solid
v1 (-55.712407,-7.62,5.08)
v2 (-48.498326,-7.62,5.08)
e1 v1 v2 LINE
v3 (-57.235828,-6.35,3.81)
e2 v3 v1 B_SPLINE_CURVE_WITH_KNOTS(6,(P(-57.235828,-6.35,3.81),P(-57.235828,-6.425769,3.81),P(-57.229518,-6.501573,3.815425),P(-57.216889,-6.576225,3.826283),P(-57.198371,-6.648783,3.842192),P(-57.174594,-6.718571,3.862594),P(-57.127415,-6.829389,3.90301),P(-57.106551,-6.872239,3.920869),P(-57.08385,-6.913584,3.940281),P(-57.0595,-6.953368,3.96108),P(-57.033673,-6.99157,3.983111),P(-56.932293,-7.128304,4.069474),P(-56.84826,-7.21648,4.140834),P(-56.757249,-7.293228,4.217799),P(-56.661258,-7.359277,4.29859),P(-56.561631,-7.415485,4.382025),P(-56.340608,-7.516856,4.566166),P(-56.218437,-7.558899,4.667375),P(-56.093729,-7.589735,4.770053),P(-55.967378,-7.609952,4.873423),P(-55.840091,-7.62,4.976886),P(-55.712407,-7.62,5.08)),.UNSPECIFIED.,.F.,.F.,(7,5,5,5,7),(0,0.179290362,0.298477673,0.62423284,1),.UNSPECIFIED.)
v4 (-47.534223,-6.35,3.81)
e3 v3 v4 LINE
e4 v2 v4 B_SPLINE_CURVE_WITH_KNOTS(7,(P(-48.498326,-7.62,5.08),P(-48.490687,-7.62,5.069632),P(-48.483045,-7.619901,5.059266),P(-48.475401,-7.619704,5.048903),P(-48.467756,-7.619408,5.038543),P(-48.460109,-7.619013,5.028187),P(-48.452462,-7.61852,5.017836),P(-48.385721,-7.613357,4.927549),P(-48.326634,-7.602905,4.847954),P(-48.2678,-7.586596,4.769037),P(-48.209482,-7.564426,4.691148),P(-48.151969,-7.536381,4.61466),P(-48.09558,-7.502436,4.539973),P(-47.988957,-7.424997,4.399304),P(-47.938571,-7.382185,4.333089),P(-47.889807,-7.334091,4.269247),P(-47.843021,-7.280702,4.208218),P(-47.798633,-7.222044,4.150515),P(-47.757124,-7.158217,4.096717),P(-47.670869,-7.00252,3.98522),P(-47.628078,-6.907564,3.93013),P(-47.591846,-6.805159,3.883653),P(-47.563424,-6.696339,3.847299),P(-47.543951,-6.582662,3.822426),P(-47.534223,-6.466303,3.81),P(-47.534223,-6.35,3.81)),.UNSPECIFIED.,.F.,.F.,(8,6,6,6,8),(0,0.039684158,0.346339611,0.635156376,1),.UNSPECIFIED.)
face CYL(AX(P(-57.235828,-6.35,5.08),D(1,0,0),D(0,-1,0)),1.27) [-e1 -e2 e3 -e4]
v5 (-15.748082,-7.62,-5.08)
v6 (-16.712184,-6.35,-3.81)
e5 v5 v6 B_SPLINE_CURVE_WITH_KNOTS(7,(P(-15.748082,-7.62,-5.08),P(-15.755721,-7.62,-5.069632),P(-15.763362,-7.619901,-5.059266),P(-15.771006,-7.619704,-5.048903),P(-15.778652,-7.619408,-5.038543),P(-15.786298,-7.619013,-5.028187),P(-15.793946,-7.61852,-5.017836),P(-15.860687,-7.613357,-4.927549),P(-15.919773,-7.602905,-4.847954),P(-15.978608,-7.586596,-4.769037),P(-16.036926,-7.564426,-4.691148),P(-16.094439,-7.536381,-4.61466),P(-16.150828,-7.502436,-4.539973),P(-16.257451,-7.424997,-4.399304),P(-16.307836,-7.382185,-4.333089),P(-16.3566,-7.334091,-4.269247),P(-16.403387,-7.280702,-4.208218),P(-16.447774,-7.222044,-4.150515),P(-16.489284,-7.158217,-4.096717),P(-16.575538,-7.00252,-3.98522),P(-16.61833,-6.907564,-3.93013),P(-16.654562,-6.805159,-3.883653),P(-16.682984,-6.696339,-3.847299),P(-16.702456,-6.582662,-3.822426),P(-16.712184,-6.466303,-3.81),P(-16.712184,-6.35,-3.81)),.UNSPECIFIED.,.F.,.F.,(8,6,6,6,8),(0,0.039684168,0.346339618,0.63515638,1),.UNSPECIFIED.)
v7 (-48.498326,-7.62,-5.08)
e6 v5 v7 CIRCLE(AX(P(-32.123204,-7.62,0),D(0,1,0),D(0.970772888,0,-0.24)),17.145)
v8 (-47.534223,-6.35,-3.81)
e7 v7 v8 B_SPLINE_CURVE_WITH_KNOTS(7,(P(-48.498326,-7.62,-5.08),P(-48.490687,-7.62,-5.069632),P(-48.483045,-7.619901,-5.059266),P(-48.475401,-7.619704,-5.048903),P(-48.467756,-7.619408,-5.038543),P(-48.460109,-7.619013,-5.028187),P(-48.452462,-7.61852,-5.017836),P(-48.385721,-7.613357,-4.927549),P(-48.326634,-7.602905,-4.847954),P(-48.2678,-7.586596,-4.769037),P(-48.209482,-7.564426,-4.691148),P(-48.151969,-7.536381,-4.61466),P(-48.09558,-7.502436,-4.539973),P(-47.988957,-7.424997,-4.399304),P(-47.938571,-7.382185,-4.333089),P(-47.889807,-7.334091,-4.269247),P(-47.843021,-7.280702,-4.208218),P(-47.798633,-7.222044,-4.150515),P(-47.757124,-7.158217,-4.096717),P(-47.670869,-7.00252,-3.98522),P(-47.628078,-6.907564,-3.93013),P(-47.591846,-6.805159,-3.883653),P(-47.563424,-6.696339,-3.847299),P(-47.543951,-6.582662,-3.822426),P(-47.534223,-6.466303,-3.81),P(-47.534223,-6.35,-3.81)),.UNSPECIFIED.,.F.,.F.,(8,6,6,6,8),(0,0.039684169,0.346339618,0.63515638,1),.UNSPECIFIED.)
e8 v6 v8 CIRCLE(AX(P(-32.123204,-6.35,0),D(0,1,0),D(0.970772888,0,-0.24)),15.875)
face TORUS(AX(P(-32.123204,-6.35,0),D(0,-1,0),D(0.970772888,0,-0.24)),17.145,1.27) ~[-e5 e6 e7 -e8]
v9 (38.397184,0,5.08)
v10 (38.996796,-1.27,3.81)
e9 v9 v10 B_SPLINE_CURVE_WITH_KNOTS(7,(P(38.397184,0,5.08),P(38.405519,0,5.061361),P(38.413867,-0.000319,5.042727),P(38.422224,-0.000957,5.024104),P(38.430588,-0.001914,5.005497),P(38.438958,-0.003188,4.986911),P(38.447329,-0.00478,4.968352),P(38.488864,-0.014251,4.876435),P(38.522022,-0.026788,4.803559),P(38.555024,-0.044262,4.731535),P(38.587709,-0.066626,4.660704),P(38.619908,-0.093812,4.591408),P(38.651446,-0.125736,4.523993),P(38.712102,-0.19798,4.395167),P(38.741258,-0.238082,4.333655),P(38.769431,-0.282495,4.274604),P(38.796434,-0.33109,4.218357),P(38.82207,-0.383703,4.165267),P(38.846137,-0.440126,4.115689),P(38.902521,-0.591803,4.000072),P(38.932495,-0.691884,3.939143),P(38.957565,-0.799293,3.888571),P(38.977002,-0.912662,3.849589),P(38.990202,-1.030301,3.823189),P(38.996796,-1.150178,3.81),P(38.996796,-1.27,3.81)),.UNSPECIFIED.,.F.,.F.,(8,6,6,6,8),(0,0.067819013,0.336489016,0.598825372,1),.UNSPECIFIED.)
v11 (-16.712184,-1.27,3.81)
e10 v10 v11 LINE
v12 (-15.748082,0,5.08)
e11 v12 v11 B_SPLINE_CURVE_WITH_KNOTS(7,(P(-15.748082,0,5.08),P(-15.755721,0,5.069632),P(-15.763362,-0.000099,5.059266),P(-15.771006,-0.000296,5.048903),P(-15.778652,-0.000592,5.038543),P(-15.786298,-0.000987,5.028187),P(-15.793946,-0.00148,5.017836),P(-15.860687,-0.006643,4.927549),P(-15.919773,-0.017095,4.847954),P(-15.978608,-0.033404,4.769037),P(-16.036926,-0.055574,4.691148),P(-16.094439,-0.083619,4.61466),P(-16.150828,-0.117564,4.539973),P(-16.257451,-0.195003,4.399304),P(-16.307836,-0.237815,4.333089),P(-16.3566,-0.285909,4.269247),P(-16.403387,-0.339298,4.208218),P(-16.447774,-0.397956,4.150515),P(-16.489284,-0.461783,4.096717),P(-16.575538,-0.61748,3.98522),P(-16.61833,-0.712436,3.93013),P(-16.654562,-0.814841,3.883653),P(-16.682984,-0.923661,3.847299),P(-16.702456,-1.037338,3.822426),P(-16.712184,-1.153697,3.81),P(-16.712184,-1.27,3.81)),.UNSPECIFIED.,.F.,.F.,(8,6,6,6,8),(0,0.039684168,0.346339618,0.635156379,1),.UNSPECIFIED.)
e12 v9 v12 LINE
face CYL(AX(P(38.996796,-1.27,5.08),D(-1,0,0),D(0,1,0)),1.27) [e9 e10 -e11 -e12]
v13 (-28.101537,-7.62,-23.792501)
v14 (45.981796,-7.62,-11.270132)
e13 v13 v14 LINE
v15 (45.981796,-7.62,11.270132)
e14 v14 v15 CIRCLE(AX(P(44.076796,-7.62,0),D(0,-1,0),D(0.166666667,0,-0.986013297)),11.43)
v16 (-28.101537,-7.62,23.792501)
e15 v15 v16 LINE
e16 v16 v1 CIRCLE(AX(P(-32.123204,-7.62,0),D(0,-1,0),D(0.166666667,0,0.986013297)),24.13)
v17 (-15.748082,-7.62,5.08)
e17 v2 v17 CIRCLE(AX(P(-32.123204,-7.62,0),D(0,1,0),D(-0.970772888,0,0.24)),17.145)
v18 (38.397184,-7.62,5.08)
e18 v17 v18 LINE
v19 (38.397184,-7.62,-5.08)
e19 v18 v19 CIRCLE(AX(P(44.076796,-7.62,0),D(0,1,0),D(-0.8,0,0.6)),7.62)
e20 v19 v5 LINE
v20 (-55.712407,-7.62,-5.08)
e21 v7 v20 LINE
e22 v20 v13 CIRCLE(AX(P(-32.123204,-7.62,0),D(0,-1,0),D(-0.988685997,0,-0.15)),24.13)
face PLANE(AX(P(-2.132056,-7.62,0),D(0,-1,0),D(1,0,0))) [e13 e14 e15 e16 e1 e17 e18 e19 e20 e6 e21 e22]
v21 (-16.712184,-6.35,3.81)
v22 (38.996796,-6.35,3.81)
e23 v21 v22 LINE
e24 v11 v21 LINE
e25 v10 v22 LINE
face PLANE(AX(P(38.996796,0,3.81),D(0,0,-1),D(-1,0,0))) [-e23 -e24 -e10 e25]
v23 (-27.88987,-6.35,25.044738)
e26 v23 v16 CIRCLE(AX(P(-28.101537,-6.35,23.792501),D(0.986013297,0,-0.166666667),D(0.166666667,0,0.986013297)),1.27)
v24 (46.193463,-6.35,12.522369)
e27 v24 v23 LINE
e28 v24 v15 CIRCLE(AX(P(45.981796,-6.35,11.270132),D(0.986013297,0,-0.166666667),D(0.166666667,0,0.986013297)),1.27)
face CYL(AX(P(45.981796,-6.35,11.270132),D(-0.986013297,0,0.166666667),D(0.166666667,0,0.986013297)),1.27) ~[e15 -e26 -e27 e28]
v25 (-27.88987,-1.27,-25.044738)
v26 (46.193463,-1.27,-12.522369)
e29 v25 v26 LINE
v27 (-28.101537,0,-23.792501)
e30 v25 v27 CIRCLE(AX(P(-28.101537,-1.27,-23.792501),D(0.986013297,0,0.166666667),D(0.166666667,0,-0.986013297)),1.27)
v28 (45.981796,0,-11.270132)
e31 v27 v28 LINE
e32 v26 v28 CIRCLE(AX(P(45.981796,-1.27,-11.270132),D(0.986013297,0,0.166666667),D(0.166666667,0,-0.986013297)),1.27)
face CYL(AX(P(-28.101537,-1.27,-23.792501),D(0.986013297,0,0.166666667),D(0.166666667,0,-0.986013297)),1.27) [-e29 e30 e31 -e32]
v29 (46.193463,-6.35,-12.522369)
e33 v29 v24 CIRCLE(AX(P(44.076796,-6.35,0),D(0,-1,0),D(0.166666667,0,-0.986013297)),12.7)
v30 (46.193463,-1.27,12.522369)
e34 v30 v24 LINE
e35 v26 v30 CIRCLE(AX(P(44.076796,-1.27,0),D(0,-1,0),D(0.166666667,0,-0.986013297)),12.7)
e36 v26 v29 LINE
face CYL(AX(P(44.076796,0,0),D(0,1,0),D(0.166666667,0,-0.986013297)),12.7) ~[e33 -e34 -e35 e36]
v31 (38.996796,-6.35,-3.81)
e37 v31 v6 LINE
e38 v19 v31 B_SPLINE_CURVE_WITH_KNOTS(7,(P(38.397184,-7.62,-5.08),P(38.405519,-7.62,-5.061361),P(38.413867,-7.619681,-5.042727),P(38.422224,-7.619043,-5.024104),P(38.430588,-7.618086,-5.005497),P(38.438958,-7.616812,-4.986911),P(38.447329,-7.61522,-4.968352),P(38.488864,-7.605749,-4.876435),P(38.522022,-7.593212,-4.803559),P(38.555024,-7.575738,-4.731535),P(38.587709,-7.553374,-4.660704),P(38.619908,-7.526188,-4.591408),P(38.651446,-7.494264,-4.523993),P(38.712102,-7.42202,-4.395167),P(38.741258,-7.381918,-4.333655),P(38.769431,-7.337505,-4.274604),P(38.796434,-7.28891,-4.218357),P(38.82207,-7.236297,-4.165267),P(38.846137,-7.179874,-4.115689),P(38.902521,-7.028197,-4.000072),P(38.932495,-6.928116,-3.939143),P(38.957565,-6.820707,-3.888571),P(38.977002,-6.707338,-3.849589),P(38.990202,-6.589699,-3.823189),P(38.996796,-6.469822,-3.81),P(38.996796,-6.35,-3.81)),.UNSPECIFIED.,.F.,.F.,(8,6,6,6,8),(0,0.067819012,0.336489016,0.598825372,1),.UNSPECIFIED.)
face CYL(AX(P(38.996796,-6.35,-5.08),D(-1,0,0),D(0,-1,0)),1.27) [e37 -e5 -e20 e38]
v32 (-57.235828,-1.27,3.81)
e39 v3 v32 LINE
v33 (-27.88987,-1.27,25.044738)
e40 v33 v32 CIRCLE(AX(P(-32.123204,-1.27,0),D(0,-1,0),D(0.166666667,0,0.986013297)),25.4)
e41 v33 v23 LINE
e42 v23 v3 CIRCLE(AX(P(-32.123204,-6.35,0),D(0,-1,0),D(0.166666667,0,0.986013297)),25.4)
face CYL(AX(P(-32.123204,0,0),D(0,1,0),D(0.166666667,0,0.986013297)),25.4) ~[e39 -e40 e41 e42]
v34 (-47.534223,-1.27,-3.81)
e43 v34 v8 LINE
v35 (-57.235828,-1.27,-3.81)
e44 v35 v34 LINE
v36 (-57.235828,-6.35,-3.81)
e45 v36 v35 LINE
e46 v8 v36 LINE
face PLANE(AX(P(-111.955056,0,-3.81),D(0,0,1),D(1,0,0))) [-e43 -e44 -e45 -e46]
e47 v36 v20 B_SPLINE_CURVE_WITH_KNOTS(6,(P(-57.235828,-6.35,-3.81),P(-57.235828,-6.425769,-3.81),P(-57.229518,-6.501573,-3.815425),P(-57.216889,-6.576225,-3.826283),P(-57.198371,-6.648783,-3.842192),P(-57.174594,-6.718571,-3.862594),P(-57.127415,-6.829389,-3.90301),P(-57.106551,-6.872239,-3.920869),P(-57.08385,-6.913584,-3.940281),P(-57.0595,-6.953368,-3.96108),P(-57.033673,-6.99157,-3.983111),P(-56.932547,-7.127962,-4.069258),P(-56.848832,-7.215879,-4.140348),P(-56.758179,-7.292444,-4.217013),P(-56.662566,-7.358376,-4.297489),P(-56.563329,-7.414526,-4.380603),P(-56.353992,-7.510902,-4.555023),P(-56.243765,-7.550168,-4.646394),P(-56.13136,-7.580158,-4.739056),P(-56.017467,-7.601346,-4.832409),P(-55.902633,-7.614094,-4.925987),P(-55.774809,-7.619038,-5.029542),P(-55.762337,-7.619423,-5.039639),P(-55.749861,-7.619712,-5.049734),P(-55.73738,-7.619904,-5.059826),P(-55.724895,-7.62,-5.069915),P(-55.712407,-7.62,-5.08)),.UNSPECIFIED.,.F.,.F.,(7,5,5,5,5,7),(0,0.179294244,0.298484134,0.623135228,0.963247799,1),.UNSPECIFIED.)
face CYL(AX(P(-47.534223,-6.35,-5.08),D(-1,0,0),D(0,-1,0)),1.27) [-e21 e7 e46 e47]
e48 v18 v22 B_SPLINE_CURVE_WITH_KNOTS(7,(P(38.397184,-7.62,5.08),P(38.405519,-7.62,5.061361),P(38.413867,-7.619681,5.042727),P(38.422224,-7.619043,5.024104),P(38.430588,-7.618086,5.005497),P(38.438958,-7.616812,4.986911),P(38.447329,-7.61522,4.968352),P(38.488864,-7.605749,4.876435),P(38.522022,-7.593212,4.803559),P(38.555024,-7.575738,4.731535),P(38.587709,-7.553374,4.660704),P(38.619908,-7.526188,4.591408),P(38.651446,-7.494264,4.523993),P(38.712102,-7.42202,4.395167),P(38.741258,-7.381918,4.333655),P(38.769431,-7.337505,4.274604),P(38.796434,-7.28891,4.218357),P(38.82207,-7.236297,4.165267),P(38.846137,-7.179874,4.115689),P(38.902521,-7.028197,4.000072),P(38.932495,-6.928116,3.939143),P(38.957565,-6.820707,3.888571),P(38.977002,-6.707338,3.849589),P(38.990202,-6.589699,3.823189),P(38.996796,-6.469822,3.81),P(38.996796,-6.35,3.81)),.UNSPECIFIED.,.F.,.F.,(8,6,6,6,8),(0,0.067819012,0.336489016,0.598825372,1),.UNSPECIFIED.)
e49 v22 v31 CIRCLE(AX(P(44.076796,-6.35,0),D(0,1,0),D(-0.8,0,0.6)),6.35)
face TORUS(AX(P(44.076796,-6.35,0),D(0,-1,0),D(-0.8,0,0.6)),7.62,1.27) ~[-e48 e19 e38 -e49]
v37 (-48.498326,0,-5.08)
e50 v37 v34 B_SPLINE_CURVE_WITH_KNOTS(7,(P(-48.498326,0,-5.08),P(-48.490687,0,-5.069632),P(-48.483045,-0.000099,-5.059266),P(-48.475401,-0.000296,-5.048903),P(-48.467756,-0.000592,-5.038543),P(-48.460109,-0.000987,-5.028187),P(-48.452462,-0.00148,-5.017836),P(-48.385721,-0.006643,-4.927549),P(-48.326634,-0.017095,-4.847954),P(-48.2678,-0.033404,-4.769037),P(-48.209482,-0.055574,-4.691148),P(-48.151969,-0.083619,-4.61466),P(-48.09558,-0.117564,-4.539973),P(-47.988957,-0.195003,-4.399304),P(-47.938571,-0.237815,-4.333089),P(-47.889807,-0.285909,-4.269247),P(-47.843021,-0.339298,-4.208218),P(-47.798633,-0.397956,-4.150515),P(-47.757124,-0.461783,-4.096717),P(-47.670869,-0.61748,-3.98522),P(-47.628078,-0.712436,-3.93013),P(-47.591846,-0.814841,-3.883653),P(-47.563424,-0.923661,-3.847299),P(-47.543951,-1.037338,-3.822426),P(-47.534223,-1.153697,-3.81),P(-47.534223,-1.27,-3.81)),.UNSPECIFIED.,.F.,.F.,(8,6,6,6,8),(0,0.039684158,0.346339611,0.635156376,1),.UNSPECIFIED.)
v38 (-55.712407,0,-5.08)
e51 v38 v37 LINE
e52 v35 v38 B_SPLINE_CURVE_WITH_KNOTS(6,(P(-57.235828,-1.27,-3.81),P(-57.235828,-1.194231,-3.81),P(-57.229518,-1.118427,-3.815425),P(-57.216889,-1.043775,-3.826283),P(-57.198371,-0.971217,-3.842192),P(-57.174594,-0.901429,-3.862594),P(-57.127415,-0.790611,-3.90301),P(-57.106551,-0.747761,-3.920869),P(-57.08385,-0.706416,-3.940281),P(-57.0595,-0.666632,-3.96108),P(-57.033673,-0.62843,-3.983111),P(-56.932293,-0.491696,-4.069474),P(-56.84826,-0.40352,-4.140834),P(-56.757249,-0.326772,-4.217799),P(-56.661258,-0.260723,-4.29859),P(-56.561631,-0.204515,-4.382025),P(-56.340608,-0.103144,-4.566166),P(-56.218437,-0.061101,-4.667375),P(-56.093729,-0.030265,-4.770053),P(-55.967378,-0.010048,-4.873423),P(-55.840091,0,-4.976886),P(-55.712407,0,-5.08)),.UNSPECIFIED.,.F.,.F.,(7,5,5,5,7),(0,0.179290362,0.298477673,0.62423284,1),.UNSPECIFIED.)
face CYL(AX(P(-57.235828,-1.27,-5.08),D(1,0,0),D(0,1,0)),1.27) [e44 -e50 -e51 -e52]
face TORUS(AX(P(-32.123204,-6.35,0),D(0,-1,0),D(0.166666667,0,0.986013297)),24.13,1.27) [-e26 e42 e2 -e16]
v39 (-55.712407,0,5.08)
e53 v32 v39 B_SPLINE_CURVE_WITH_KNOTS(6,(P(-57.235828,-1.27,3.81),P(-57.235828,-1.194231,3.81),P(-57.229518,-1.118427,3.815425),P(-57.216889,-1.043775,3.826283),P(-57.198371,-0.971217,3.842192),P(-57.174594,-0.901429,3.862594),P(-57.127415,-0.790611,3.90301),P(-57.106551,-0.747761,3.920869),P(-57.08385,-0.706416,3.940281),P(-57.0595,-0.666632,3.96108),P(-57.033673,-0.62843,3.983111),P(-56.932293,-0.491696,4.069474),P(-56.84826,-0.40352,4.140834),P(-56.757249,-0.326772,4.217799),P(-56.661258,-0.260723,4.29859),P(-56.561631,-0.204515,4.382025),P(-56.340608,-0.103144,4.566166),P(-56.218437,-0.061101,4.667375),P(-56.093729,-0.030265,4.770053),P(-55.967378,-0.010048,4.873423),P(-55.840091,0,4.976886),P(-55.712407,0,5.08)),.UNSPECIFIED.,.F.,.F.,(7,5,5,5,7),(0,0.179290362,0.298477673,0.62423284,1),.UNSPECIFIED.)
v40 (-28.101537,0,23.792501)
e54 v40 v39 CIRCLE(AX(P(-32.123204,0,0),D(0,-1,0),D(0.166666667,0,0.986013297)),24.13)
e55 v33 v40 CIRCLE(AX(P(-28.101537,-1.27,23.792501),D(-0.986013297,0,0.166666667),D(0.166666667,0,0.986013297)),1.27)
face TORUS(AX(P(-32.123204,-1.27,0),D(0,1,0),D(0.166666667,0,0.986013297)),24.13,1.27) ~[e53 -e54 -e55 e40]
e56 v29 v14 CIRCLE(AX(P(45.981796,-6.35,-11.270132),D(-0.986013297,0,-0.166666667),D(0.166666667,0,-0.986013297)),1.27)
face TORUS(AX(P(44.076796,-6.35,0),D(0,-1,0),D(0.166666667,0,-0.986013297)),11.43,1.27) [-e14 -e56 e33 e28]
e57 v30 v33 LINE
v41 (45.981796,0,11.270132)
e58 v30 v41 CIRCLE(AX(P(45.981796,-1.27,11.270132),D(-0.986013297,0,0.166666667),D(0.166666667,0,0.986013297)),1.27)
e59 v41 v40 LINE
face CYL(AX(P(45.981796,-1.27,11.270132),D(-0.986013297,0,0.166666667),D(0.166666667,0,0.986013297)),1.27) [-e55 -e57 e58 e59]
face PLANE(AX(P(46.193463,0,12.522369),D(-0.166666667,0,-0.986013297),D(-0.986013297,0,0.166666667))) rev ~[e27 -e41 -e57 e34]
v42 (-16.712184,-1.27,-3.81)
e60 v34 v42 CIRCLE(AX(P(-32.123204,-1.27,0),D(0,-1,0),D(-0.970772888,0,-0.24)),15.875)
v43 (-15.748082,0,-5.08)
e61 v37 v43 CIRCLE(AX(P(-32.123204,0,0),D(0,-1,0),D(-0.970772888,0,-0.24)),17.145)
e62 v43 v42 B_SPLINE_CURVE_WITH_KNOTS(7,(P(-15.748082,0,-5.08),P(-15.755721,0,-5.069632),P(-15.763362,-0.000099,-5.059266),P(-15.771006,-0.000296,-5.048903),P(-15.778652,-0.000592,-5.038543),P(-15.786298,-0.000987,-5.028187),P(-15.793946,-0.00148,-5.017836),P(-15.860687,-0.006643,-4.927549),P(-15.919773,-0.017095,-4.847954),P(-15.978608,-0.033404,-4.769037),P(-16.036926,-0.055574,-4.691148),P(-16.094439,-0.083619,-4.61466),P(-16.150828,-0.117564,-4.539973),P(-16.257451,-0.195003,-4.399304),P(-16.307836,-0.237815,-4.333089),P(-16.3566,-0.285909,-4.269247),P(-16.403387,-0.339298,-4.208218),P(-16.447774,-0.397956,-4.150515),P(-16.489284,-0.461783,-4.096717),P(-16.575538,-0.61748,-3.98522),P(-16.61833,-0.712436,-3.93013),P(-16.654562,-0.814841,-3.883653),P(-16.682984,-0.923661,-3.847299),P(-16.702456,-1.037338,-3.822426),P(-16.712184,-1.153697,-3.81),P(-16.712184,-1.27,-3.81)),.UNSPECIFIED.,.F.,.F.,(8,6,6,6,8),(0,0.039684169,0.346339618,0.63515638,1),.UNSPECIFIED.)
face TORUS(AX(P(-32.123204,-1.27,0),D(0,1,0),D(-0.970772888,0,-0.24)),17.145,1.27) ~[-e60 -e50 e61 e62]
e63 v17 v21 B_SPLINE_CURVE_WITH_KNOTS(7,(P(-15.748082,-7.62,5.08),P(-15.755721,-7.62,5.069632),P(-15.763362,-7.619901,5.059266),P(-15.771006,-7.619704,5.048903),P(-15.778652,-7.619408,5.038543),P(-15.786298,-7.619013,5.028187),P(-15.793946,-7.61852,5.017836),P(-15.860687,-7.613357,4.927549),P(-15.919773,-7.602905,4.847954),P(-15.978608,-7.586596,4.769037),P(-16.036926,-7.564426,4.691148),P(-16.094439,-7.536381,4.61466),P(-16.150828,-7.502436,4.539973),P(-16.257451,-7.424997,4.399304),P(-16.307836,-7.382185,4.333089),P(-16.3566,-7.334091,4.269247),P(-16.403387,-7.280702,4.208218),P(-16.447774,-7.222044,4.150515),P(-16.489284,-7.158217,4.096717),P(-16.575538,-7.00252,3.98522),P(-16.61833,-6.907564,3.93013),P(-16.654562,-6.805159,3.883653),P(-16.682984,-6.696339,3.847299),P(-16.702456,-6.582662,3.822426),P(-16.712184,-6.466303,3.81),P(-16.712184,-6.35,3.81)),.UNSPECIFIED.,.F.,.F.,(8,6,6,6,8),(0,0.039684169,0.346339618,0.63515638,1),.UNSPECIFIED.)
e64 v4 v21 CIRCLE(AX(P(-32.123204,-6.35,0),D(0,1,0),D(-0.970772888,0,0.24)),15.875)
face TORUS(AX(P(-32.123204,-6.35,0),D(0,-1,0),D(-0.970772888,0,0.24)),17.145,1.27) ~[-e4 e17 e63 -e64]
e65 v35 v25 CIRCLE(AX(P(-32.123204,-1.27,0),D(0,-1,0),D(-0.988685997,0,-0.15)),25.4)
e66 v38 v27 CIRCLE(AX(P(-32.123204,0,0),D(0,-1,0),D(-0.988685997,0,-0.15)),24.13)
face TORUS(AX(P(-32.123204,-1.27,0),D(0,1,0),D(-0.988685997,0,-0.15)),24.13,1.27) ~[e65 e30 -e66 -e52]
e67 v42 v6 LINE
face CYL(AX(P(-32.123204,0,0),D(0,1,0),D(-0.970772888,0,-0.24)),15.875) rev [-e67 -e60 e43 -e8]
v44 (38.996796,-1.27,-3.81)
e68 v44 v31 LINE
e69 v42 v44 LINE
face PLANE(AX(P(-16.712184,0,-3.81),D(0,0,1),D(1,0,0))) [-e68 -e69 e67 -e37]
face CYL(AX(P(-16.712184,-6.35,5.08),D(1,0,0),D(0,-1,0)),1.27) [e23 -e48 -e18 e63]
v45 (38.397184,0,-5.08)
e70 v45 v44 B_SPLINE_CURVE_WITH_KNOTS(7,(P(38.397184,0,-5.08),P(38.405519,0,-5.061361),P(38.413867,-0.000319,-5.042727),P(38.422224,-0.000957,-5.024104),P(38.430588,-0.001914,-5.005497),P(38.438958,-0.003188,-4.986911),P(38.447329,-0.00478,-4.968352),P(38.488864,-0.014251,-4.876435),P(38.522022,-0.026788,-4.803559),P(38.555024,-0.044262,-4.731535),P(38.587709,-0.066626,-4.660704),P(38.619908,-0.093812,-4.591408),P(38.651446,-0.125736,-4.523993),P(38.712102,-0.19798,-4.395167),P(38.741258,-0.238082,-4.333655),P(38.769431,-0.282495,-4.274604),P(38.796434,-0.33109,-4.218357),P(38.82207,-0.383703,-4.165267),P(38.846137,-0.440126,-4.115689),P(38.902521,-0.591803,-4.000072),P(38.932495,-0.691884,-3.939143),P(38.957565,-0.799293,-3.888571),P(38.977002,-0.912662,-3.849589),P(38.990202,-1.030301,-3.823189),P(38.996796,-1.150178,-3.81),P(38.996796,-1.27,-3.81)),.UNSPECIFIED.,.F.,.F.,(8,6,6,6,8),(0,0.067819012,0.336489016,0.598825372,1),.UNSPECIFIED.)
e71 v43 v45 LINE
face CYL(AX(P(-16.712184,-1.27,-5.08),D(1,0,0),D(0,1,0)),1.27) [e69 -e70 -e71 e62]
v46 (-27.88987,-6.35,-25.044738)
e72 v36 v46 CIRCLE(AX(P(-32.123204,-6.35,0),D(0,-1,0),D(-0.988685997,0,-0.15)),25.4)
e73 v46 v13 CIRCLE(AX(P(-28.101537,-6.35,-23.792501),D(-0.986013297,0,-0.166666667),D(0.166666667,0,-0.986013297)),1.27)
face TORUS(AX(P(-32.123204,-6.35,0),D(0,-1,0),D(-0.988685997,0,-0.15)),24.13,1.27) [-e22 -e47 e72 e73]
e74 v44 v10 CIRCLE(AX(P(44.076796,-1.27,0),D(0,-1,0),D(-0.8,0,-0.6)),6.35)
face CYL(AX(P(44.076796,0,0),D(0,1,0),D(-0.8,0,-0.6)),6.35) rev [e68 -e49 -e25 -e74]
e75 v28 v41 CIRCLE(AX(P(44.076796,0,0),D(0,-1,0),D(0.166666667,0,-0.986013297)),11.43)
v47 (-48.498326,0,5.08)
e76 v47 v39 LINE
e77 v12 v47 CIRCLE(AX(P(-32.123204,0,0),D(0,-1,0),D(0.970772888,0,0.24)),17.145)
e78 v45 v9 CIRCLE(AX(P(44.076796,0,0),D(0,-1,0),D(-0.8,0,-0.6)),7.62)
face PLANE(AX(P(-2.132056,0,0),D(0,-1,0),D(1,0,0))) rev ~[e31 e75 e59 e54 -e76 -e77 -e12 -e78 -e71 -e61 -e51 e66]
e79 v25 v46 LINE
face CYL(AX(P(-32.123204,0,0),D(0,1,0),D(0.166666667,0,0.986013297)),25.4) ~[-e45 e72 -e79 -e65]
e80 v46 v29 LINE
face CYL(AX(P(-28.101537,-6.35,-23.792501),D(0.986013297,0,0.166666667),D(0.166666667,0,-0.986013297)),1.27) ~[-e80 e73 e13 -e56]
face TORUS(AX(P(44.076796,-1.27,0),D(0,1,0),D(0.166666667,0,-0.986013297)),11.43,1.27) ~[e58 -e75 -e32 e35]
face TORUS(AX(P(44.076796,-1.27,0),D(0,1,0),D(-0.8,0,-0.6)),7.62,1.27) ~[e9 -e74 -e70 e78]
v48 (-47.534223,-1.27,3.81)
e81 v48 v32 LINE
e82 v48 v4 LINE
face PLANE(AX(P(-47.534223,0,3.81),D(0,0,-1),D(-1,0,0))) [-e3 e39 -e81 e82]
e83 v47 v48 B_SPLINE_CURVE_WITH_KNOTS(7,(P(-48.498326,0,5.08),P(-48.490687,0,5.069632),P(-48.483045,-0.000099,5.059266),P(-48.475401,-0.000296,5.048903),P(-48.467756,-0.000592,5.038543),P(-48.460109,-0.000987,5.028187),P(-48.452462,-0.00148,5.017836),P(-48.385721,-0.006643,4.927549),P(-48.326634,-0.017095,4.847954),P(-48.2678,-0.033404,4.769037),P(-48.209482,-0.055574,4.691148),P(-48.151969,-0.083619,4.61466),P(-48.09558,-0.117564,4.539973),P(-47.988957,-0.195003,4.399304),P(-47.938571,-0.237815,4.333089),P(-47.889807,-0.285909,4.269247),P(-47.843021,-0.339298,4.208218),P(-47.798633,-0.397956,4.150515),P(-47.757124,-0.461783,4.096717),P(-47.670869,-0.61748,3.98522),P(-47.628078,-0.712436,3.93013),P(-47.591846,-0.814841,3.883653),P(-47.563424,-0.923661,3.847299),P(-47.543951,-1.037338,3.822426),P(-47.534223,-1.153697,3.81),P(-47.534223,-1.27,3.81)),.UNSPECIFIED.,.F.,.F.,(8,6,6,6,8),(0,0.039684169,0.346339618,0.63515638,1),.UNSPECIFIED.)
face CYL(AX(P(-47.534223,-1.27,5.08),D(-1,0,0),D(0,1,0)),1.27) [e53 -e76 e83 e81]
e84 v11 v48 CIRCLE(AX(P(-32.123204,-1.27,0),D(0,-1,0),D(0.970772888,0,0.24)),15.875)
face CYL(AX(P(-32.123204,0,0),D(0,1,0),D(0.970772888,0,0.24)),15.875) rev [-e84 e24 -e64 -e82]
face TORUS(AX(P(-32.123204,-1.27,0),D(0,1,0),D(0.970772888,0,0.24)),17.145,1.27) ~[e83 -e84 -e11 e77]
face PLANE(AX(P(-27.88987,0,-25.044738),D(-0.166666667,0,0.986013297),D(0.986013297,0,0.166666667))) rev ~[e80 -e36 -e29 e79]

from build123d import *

# Parameters (mm, degrees)
F2_DEPTH      = 7.62
F3_DEPTH      = 7.621
F3_DEPTH_BACK = 25.4
F4_R          = 1.27


with BuildPart() as f2:
    # F0 (on Front) → F2 (new body)
    with BuildSketch(Plane.XZ):
        with BuildLine():
            Line((46.1934629007, 12.5223688742), (-27.8898704326, 25.0447377485))
            ThreePointArc((-27.8898704326, 25.0447377485), (-57.5232037659, 0), (-27.8898704326, -25.0447377485))
            Line((-27.8898704326, -25.0447377485), (46.1934629007, -12.5223688742))
            ThreePointArc((46.1934629007, -12.5223688742), (56.7767962341, 0), (46.1934629007, 12.5223688742))
        make_face()
    extrude(amount=F2_DEPTH)

    # F1 (on Front) → F3 (cut, two sides)
    with BuildSketch(Plane.XZ) as f3_sk:
        with BuildLine():
            Line((38.9967962341, 3.81), (-16.7121841695, 3.81))
            ThreePointArc((-16.7121841695, 3.81), (-32.1232037659, 15.875), (-47.5342233623, 3.81))
            Line((-47.5342233623, 3.81), (-111.9550562739, 3.81))
            Line((-111.9550562739, 3.81), (-111.9550562739, -3.81))
            Line((-111.9550562739, -3.81), (-47.5342233623, -3.81))
            ThreePointArc((-47.5342233623, -3.81), (-32.1232037659, -15.875), (-16.7121841695, -3.81))
            Line((-16.7121841695, -3.81), (38.9967962341, -3.81))
            ThreePointArc((38.9967962341, -3.81), (50.4267962341, 0), (38.9967962341, 3.81))
        make_face()
    extrude(amount=F3_DEPTH, mode=Mode.SUBTRACT)
    extrude(f3_sk.sketch, amount=-F3_DEPTH_BACK, mode=Mode.SUBTRACT)

    # F4
    f4_edges = [f2.edges().sort_by_distance(p)[0] for p in [
        (56.776796, 0, 0),
        (9.151796, 0, -18.783553),
        (-47.013292, 0, -20.577786),
        (-52.385026, 0, -3.81),
        (-32.123204, 0, -15.875),
        (11.142306, 0, -3.81),
        (50.426796, 0, 0),
        (11.142306, 0, 3.81),
        (-32.123204, 0, 15.875),
        (-52.385026, 0, 3.81),
        (-47.013292, 0, 20.577786),
        (9.151796, 0, 18.783553),
        (56.776796, -7.62, 0),
        (9.151796, -7.62, -18.783553),
        (-47.013292, -7.62, -20.577786),
        (-52.385026, -7.62, -3.81),
        (-32.123204, -7.62, -15.875),
        (11.142306, -7.62, -3.81),
        (50.426796, -7.62, 0),
        (11.142306, -7.62, 3.81),
        (-32.123204, -7.62, 15.875),
        (-52.385026, -7.62, 3.81),
        (-47.013292, -7.62, 20.577786),
        (9.151796, -7.62, 18.783553),
    ]]
    fillet(f4_edges, radius=F4_R)


solid = f2.part
